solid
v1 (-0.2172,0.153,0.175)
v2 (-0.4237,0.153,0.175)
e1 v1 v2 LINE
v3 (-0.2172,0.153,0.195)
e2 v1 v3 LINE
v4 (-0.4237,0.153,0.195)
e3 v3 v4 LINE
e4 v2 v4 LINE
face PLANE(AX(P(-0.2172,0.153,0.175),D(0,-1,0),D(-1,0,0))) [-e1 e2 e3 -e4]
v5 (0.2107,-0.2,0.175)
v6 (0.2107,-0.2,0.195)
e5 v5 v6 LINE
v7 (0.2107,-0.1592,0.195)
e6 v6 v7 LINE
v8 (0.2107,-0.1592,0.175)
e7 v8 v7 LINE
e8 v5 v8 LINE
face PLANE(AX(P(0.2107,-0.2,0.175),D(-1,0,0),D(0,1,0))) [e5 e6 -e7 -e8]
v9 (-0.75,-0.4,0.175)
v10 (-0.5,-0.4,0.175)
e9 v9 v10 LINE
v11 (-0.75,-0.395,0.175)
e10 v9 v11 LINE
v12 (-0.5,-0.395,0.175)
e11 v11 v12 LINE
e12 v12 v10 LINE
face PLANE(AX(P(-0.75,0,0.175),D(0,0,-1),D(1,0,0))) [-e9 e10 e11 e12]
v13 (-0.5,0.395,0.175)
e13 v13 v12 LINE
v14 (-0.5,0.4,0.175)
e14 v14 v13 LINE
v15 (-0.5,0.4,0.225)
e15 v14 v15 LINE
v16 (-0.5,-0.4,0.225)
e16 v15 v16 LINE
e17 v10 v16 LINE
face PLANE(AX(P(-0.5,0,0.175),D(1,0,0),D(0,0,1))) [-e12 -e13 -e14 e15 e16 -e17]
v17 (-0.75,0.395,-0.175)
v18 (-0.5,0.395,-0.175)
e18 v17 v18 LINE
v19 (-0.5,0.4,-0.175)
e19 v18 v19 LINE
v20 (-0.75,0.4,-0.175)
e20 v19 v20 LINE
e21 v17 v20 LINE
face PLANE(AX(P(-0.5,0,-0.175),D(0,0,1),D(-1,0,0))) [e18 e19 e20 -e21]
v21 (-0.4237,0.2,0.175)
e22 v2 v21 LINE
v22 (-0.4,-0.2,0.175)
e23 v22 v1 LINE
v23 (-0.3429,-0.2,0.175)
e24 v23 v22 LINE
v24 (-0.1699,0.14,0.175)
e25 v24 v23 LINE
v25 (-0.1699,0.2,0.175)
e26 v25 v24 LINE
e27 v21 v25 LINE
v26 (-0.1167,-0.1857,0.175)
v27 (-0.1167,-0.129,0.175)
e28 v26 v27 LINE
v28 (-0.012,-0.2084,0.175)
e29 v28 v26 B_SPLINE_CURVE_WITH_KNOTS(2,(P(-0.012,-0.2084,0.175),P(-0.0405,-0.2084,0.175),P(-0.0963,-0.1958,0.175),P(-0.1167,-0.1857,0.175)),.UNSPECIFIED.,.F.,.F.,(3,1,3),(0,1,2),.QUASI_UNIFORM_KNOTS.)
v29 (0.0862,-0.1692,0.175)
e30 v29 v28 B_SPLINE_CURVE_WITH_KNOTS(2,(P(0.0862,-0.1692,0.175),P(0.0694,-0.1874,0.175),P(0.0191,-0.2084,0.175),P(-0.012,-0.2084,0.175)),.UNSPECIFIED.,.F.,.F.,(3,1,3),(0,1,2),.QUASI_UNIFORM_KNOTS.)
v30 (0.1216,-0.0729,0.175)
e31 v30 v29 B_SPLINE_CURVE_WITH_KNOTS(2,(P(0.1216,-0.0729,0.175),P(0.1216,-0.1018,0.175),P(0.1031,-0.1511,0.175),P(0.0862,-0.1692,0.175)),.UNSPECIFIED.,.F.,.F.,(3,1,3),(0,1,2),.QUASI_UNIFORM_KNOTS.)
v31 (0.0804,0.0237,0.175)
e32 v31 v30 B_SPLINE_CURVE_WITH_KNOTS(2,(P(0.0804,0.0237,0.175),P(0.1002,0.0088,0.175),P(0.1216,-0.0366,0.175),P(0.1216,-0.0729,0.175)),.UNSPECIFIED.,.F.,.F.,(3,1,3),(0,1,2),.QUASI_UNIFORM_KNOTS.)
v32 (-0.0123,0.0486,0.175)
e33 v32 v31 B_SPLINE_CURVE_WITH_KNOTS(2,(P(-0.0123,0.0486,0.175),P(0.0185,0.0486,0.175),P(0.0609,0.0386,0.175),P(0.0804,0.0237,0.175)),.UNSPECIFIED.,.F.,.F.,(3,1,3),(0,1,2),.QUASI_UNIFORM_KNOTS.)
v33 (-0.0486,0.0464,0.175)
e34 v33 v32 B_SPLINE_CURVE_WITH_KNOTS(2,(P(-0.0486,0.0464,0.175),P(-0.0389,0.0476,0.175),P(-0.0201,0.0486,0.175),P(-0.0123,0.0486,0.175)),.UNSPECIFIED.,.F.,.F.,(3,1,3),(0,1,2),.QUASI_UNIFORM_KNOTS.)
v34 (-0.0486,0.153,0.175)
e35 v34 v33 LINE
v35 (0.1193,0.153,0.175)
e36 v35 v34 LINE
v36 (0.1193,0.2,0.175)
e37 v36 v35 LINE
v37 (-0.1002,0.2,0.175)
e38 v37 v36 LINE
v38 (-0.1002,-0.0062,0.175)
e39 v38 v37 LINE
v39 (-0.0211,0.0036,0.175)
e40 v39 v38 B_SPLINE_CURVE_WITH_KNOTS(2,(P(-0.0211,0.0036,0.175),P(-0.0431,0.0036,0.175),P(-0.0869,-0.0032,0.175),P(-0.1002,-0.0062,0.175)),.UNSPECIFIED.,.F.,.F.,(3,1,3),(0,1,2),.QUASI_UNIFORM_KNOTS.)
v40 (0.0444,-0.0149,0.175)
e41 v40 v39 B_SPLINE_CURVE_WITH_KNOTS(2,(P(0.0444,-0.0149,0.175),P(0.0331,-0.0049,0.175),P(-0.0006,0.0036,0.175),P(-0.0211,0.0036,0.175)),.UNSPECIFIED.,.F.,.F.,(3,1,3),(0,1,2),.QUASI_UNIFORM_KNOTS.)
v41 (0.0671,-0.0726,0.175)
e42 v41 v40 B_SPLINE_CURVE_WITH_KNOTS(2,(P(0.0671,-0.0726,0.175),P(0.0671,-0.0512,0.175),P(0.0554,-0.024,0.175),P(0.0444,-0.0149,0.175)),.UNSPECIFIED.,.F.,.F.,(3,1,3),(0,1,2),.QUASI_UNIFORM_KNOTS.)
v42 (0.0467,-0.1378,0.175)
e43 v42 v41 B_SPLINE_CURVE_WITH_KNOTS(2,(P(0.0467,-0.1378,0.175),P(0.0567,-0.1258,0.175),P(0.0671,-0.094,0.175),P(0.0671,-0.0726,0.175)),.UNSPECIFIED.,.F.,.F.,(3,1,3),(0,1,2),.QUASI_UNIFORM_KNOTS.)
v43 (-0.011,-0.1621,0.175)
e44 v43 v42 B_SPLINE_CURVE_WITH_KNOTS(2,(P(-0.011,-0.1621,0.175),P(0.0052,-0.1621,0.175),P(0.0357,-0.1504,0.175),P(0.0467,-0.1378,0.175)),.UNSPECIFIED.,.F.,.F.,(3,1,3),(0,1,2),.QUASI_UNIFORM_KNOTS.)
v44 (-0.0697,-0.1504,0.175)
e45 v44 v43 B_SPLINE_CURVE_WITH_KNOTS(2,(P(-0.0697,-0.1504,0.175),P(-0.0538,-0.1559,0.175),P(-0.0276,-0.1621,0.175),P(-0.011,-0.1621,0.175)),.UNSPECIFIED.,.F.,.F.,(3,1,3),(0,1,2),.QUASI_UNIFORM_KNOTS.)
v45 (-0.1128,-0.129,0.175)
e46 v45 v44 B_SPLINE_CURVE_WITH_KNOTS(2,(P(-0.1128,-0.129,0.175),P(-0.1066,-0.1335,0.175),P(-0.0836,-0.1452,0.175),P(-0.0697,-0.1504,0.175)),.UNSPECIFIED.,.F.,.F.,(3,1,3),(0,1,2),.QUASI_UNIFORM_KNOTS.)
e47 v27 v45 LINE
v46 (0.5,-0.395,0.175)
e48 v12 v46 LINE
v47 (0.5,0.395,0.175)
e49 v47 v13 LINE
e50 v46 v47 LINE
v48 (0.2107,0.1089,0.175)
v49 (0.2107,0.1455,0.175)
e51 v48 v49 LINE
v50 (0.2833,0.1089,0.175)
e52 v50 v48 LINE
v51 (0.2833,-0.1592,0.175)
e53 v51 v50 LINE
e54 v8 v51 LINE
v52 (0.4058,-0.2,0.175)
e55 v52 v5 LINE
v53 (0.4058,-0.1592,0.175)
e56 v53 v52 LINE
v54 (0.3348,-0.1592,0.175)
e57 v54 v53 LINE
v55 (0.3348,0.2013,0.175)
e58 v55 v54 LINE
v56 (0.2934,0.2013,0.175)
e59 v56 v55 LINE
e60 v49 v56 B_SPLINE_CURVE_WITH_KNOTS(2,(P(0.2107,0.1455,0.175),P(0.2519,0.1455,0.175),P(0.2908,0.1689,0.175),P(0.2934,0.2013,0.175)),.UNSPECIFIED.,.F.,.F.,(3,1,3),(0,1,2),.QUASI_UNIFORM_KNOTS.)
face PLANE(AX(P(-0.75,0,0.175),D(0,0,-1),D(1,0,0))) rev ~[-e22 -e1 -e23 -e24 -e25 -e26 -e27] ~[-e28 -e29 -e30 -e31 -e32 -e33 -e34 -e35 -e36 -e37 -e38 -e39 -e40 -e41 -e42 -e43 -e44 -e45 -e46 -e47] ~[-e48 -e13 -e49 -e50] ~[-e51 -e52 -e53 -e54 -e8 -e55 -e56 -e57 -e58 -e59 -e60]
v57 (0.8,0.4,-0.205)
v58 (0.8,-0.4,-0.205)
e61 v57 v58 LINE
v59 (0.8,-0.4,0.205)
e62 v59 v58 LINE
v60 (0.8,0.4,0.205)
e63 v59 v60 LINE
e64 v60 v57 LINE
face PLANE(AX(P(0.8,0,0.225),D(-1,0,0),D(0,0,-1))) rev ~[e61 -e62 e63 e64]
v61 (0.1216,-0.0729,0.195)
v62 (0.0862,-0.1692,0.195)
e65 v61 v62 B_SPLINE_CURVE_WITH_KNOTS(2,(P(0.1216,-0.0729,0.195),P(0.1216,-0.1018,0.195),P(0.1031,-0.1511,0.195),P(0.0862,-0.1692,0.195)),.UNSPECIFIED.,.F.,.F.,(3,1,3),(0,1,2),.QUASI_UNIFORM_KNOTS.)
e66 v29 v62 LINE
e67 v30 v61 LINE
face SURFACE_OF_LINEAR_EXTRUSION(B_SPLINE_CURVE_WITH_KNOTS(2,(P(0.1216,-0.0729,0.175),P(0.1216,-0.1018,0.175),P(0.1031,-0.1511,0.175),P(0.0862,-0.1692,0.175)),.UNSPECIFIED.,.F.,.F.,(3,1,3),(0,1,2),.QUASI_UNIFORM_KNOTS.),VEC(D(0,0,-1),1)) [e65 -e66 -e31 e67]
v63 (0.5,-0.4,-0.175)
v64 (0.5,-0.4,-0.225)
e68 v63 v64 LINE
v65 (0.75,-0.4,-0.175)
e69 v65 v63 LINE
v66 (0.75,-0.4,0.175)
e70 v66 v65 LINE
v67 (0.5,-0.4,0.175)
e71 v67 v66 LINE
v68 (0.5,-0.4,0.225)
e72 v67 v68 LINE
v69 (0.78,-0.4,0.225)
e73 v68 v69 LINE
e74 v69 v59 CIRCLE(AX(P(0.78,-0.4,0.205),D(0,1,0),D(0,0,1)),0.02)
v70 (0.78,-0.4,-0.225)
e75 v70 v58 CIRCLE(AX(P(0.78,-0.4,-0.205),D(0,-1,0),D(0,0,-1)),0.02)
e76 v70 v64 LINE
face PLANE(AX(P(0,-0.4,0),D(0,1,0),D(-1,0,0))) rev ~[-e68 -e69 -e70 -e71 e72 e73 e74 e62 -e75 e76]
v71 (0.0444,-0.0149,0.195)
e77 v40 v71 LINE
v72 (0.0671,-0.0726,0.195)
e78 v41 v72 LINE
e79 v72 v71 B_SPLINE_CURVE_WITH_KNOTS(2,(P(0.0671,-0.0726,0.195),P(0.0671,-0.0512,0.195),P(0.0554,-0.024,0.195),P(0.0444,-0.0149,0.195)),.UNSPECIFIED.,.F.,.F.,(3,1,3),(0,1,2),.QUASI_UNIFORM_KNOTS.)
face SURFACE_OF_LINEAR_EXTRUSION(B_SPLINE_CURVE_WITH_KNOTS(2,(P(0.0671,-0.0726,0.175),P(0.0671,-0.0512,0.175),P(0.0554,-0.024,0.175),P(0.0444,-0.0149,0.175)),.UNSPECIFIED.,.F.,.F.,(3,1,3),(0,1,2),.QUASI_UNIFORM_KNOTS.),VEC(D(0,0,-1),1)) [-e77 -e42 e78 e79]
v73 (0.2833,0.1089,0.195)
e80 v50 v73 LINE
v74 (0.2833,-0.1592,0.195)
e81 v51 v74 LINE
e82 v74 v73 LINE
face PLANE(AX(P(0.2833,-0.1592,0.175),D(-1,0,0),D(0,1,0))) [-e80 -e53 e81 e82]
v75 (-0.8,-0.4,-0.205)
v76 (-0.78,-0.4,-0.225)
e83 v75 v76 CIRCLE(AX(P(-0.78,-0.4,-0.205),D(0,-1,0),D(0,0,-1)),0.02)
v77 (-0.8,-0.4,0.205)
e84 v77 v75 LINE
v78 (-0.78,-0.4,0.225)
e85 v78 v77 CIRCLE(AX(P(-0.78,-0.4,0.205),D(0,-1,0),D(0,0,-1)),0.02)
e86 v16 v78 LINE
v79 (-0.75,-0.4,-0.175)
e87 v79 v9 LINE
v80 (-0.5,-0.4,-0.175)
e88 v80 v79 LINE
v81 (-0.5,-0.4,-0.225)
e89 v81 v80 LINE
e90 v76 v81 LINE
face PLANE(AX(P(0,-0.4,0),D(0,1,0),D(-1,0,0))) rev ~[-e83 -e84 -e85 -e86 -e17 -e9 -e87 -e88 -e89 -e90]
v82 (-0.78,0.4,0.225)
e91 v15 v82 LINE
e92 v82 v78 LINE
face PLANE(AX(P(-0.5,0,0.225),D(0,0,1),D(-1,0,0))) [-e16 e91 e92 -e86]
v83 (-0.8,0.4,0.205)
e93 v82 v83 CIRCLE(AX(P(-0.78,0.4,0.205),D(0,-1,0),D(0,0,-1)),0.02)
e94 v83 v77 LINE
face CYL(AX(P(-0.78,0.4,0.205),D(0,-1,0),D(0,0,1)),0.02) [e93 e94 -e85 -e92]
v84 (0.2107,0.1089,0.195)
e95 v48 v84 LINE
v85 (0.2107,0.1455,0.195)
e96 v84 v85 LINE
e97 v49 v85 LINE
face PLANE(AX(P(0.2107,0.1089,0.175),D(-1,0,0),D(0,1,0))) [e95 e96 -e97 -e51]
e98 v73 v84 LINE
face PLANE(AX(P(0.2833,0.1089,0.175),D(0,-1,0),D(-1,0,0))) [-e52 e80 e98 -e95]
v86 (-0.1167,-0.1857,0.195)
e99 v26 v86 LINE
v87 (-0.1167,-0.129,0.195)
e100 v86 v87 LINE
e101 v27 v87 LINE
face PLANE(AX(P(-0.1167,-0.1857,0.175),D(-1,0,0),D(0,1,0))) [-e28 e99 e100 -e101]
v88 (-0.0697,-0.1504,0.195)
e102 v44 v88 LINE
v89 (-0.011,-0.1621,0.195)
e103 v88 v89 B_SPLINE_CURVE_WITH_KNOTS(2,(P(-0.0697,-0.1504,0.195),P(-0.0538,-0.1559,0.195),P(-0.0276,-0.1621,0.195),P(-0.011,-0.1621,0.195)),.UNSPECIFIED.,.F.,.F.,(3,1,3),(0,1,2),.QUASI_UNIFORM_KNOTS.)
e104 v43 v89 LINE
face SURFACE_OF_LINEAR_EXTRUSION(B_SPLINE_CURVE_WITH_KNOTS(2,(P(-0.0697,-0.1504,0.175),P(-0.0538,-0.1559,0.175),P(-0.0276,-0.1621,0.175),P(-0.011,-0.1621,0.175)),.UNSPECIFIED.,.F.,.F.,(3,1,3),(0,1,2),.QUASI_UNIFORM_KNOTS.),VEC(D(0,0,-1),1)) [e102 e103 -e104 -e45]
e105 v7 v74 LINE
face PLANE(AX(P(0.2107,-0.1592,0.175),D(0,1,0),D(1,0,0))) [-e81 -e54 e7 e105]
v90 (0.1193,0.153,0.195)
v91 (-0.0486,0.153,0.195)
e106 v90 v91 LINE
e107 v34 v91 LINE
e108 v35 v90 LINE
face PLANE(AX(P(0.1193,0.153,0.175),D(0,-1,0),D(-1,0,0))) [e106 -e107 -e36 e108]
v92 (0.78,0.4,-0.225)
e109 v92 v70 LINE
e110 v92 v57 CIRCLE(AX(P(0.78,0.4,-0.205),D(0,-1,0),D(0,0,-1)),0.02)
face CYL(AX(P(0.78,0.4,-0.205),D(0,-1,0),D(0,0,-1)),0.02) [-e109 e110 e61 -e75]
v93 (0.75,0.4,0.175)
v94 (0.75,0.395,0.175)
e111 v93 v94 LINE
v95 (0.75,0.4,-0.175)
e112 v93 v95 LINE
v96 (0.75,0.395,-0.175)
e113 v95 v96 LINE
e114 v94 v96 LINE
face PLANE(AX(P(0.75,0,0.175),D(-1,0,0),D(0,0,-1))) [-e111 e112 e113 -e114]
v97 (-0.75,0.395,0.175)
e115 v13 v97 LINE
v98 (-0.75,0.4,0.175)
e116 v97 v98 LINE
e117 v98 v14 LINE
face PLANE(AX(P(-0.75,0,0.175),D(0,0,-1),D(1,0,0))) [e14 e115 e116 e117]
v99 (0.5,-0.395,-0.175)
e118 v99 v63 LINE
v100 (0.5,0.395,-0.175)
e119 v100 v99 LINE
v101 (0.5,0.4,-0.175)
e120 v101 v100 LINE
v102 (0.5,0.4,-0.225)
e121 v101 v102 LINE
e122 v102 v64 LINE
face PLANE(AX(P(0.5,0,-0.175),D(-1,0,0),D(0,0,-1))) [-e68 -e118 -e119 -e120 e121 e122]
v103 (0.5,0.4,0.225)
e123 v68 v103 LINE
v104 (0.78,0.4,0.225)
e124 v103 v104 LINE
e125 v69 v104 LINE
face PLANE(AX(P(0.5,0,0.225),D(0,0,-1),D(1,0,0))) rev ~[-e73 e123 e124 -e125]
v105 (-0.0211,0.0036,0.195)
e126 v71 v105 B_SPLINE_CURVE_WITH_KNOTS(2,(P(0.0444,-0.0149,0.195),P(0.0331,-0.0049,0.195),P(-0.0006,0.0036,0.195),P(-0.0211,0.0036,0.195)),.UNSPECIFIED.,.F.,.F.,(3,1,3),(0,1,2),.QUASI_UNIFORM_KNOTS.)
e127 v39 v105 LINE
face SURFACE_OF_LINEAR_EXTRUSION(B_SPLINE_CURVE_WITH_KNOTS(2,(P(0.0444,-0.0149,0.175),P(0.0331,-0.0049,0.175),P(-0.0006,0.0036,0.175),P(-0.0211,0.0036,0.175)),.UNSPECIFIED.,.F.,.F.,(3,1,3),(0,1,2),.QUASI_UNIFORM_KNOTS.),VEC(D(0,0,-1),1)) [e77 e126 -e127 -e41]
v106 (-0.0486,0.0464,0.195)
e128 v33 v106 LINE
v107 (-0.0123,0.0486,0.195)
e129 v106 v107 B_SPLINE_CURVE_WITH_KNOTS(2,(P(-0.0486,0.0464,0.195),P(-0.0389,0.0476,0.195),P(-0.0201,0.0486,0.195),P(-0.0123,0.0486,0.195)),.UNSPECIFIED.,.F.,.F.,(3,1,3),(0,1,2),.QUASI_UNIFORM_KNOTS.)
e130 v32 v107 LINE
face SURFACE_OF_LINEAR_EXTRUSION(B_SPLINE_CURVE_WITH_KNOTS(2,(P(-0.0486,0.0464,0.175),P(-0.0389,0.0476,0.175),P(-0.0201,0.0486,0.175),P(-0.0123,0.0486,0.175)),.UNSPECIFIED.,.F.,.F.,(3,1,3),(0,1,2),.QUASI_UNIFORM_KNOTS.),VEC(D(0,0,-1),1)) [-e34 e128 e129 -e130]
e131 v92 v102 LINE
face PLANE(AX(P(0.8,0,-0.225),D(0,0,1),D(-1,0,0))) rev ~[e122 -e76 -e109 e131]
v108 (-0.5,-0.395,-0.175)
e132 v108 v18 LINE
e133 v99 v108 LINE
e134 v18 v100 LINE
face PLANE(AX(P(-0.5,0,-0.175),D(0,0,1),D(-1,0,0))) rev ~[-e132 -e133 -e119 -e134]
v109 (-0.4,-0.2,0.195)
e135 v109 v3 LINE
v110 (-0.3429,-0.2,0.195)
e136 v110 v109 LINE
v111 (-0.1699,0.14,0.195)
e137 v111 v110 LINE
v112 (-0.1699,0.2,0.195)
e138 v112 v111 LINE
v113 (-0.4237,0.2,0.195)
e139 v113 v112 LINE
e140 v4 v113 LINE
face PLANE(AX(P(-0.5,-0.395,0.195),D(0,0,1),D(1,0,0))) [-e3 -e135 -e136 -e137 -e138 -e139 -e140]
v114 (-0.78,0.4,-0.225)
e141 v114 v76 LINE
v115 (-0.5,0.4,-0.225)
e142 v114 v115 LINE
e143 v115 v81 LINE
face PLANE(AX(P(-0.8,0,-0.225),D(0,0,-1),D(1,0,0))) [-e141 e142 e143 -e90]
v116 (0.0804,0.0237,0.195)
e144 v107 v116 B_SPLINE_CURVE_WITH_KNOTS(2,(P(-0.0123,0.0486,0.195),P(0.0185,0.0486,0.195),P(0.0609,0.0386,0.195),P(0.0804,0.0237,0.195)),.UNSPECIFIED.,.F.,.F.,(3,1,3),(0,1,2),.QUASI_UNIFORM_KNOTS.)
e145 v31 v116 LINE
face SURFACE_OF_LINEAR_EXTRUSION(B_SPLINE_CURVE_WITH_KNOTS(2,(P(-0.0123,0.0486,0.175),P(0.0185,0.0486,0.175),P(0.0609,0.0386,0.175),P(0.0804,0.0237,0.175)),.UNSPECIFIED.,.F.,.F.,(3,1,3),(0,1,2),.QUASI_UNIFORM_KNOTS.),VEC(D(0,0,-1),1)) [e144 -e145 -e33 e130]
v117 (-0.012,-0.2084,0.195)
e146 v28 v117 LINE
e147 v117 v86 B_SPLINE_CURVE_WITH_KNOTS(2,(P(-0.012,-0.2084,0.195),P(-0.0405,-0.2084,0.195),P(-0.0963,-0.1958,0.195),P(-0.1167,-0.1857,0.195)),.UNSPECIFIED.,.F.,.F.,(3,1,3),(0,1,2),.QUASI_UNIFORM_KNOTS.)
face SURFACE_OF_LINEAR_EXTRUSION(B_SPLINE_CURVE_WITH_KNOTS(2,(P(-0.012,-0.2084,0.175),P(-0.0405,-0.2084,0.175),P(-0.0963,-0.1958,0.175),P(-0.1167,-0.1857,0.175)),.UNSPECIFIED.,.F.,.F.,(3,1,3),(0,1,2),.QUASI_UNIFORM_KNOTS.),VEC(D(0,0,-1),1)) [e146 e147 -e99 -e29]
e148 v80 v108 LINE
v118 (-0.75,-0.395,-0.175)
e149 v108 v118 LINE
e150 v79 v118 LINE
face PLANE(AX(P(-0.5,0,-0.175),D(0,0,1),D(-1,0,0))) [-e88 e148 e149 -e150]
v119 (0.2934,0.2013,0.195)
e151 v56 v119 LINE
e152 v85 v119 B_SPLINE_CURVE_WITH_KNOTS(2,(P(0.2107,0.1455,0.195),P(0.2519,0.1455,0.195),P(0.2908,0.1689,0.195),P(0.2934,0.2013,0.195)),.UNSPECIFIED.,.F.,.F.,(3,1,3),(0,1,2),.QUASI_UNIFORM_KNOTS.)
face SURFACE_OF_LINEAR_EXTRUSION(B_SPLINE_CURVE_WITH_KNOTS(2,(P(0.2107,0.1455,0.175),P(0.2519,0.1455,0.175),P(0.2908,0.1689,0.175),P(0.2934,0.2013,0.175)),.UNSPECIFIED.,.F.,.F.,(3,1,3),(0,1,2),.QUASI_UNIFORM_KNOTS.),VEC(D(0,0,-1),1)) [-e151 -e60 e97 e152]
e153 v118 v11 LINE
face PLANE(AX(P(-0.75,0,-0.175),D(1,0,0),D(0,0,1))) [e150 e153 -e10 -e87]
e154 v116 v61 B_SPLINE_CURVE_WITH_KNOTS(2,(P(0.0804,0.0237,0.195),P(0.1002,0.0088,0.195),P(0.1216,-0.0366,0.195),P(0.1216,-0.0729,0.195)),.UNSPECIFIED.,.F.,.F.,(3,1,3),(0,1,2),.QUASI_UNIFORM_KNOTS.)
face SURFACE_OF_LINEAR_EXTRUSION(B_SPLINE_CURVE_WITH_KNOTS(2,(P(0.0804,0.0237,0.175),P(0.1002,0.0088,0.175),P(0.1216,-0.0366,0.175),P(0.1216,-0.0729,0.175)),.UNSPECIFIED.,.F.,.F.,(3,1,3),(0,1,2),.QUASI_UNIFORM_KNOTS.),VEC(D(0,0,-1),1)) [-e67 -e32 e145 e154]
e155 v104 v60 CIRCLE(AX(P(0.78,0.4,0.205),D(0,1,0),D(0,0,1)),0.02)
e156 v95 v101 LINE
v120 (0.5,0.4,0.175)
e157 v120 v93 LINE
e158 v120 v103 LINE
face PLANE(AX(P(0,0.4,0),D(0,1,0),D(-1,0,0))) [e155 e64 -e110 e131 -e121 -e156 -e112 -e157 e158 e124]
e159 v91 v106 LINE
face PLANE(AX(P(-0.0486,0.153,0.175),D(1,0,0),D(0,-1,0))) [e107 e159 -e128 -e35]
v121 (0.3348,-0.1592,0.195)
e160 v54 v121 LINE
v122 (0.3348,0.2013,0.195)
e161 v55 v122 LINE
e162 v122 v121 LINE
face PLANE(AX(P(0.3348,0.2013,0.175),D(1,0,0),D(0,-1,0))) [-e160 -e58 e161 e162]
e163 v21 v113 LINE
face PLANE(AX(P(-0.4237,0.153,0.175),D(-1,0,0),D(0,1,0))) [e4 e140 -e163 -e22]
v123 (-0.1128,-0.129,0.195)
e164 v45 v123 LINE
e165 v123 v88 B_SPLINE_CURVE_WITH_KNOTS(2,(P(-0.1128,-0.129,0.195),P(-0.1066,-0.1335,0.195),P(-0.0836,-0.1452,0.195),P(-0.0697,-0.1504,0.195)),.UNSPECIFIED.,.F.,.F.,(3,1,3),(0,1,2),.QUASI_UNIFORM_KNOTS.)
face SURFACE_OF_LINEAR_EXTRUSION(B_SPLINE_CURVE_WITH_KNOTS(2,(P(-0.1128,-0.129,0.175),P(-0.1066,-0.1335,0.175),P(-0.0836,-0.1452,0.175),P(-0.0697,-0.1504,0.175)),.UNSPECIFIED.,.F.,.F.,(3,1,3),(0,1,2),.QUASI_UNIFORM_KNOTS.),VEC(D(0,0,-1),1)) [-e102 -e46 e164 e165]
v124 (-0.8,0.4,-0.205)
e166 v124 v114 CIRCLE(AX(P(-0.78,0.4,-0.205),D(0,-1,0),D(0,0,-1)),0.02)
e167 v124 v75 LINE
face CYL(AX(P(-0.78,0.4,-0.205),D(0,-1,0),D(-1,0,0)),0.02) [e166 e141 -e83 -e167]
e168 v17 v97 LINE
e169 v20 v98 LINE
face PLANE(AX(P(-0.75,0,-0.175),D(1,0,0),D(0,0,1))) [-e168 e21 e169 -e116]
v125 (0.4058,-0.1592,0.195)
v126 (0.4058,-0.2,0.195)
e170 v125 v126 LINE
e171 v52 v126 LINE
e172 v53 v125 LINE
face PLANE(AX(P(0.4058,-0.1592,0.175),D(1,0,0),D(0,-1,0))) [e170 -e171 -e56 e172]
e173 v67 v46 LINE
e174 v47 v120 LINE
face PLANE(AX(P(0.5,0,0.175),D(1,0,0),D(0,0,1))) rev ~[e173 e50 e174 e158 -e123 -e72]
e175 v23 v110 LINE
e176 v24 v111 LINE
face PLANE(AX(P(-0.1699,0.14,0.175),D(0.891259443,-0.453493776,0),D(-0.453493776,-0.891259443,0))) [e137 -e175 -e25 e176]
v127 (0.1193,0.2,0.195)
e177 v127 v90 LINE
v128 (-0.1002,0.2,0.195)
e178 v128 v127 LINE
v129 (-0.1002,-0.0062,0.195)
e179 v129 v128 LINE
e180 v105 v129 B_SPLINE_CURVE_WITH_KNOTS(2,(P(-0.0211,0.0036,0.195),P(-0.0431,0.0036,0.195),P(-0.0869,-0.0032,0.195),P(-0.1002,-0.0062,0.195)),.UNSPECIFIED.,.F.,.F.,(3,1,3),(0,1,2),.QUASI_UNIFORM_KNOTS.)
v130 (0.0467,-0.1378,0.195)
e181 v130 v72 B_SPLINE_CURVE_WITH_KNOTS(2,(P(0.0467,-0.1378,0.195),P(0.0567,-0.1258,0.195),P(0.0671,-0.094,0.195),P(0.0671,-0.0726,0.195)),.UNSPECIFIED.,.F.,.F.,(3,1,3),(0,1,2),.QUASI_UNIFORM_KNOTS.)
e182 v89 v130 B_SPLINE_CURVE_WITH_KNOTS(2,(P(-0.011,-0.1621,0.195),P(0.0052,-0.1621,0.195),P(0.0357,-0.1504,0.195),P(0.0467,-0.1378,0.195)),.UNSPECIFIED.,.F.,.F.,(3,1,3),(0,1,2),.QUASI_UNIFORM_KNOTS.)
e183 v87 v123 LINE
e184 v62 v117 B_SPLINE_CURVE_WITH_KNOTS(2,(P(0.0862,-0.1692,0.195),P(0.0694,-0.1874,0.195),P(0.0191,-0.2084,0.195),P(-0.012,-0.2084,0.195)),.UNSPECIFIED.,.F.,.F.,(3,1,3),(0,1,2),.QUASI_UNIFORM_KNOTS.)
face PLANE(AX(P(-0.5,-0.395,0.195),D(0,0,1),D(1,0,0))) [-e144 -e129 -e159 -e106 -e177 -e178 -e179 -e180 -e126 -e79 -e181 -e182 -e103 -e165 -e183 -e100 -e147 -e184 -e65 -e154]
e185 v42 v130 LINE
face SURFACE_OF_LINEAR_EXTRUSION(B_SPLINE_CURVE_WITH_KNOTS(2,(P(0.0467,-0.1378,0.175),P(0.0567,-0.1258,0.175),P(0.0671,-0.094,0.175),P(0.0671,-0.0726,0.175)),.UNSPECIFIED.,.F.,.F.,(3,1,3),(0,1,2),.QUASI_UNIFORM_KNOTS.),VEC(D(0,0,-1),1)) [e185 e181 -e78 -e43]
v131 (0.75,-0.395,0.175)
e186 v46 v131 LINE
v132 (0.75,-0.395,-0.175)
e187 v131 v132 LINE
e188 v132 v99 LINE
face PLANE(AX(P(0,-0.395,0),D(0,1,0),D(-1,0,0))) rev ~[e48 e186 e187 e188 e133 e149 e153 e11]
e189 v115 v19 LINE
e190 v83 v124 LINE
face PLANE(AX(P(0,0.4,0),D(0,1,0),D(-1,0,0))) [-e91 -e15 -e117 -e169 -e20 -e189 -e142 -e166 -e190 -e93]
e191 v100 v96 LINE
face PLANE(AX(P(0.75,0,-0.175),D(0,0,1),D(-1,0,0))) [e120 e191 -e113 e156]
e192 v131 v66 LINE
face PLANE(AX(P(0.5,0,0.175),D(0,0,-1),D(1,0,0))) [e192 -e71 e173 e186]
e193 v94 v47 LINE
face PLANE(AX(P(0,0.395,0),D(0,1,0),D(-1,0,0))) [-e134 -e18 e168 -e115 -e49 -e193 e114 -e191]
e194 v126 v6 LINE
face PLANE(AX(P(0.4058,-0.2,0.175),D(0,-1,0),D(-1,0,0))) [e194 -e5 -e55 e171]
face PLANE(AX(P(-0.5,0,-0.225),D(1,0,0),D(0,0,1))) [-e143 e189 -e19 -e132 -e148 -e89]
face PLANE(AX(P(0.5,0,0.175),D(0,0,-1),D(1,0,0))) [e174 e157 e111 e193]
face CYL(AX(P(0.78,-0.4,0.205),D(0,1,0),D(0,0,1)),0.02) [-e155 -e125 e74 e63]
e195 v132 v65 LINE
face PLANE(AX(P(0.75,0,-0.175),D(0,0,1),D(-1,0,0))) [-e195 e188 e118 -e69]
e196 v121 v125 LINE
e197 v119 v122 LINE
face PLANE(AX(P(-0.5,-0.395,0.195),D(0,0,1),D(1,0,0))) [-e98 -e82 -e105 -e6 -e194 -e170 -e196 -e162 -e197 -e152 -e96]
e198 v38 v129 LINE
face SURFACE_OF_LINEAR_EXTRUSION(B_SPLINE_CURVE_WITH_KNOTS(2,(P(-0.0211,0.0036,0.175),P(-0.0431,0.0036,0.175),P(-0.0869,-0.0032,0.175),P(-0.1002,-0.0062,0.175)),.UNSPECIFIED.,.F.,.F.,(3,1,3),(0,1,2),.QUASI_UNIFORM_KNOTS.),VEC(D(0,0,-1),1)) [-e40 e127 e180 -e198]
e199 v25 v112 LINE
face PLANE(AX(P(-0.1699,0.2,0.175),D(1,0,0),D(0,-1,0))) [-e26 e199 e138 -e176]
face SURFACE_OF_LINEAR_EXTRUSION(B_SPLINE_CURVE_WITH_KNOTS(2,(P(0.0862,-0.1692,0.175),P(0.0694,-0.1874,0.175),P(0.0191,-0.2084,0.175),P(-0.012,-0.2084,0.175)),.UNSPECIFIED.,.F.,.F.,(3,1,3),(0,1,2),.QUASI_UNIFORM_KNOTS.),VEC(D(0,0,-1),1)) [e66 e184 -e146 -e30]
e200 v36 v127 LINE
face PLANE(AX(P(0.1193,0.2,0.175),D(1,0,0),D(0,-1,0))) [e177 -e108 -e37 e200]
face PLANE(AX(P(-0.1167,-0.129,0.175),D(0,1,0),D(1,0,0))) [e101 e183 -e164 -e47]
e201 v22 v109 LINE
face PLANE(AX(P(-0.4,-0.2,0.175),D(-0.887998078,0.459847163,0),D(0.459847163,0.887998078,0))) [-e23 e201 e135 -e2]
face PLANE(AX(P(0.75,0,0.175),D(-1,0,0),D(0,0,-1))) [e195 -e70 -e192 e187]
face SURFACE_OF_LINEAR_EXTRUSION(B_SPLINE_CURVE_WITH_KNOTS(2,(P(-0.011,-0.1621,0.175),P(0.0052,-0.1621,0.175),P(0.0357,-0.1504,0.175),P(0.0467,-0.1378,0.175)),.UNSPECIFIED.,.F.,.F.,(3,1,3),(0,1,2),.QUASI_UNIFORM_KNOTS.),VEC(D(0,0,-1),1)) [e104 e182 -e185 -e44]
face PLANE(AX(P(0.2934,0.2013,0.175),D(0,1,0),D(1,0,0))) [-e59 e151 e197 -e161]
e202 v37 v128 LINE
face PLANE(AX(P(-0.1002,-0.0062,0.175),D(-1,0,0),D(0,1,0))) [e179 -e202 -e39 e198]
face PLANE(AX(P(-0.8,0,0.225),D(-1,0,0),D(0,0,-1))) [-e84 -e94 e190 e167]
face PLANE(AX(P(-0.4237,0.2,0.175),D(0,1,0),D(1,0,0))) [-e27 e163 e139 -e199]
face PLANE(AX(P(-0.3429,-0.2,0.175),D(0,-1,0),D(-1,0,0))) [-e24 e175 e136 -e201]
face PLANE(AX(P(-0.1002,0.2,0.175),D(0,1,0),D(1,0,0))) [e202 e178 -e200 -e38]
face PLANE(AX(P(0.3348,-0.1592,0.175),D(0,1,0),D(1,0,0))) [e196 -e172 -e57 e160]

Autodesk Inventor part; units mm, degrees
ref_plane "YZ Plane" through (0, 0, 0) normal (1, 0, 0) x (0, 1, 0)
ref_plane "XZ Plane" through (0, 0, 0) normal (0, 1, 0) x (-1, 0, 0)
ref_plane "XY Plane" through (0, 0, 0) normal (0, 0, 1) x (1, 0, 0)
sketch "Sketch1" plane through (0, 0, 0) normal (0, 1, 0) x (-1, 0, 0)
  line L0 (0.75, 0.175) -> (-0.75, 0.175)
  line L1 (-0.75, 0.175) -> (-0.75, -0.175)
  line L2 (-0.75, -0.175) -> (0.75, -0.175)
  line L3 (0.75, -0.175) -> (0.75, 0.175)
  line L4 (0.5, 0.175) -> (0.5, 0.225)
  line L5 (0.5, 0.225) -> (0.8, 0.225)
  line L6 (0.8, 0.225) -> (0.8, -0.225)
  line L7 (0.8, -0.225) -> (0.5, -0.225)
  line L8 (0.5, -0.225) -> (0.5, -0.175)
  line L9 (-0.5, 0.175) -> (-0.5, 0.225)
  line L10 (-0.5, 0.225) -> (-0.8, 0.225)
  line L11 (-0.8, 0.225) -> (-0.8, -0.225)
  line L12 (-0.8, -0.225) -> (-0.5, -0.225)
  line L13 (-0.5, -0.175) -> (-0.5, -0.225)
  line L14 (0.5, 0.175) -> (-0.5, 0.175)
  point P0 (0, 0)
  point P1 (0, 0.175)
  point P2 (0.75, 0)
  dimension "d0" = 1.6
  dimension "d1" = 0.05
  dimension "d2" = 0.05
  dimension "d3" = 0.45
  dimension "d4" = 0.3
extrude "Extrusion1" add sketch "Sketch1" along normal mid plane 0.8 contours L0 L4 L5 L6 L7 L8 L2 L3 | L0 L1 L2 L13 L12 L11 L10 L9
extrude "Extrusion2" add sketch "Sketch1" along normal mid plane 0.79 contours L3 L2 L1 L0
sketch "Sketch2" plane through (-0.5, -0.395, 0.175) normal (0, 0, 1) x (1, 0, 0)
  line L0 (0, 0) -> (0, 0.79) projected
  line L1 (1, 0) -> (0, 0) projected
  line L2 (1, 0) -> (1, 0.79) projected
  line L3 (0, 0.79) -> (1, 0.79) projected
  line L4 (0, 0.395) -> (1, 0.395) construction
  line L5 (0.3301, 0.535) -> (0.1571, 0.195)
  line L6 (0.1571, 0.195) -> (0.1, 0.195)
  line L7 (0.1, 0.195) -> (0.2828, 0.548)
  line L8 (0.2828, 0.548) -> (0.0763, 0.548)
  line L9 (0.0763, 0.548) -> (0.0763, 0.595)
  line L10 (0.0763, 0.595) -> (0.3301, 0.595)
  line L11 (0.3301, 0.595) -> (0.3301, 0.535)
  spline S0 degree 2 poles (0.6216, 0.3221) (0.6216, 0.2932) (0.6031, 0.2439) (0.5862, 0.2258) knots 0 0 0 1 2 2 2
  spline S1 degree 2 poles (0.5862, 0.2258) (0.5694, 0.2076) (0.5191, 0.1866) (0.488, 0.1866) knots 0 0 0 1 2 2 2
  spline S2 degree 2 poles (0.488, 0.1866) (0.4595, 0.1866) (0.4037, 0.1992) (0.3833, 0.2093) knots 0 0 0 1 2 2 2
  line L12 (0.3833, 0.2093) -> (0.3833, 0.266)
  line L13 (0.3833, 0.266) -> (0.3872, 0.266)
  spline S3 degree 2 poles (0.3872, 0.266) (0.3934, 0.2615) (0.4164, 0.2498) (0.4303, 0.2446) knots 0 0 0 1 2 2 2
  spline S4 degree 2 poles (0.4303, 0.2446) (0.4462, 0.2391) (0.4724, 0.2329) (0.489, 0.2329) knots 0 0 0 1 2 2 2
  spline S5 degree 2 poles (0.489, 0.2329) (0.5052, 0.2329) (0.5357, 0.2446) (0.5467, 0.2572) knots 0 0 0 1 2 2 2
  spline S6 degree 2 poles (0.5467, 0.2572) (0.5567, 0.2692) (0.5671, 0.301) (0.5671, 0.3224) knots 0 0 0 1 2 2 2
  spline S7 degree 2 poles (0.5671, 0.3224) (0.5671, 0.3438) (0.5554, 0.371) (0.5444, 0.3801) knots 0 0 0 1 2 2 2
  spline S8 degree 2 poles (0.5444, 0.3801) (0.5331, 0.3901) (0.4994, 0.3986) (0.4789, 0.3986) knots 0 0 0 1 2 2 2
  spline S9 degree 2 poles (0.4789, 0.3986) (0.4569, 0.3986) (0.4131, 0.3918) (0.3998, 0.3888) knots 0 0 0 1 2 2 2
  line L14 (0.3998, 0.3888) -> (0.3998, 0.595)
  line L15 (0.3998, 0.595) -> (0.6193, 0.595)
  line L16 (0.6193, 0.595) -> (0.6193, 0.548)
  line L17 (0.6193, 0.548) -> (0.4514, 0.548)
  line L18 (0.4514, 0.548) -> (0.4514, 0.4414)
  spline S10 degree 2 poles (0.4514, 0.4414) (0.4611, 0.4426) (0.4799, 0.4436) (0.4877, 0.4436) knots 0 0 0 1 2 2 2
  spline S11 degree 2 poles (0.4877, 0.4436) (0.5185, 0.4436) (0.5609, 0.4336) (0.5804, 0.4187) knots 0 0 0 1 2 2 2
  spline S12 degree 2 poles (0.5804, 0.4187) (0.6002, 0.4038) (0.6216, 0.3584) (0.6216, 0.3221) knots 0 0 0 1 2 2 2
  line L19 (0.9058, 0.195) -> (0.7107, 0.195)
  line L20 (0.7107, 0.195) -> (0.7107, 0.2358)
  line L21 (0.7107, 0.2358) -> (0.7833, 0.2358)
  line L22 (0.7833, 0.2358) -> (0.7833, 0.5039)
  line L23 (0.7833, 0.5039) -> (0.7107, 0.5039)
  line L24 (0.7107, 0.5039) -> (0.7107, 0.5405)
  spline S13 degree 2 poles (0.7107, 0.5405) (0.7519, 0.5405) (0.7908, 0.5639) (0.7934, 0.5963) knots 0 0 0 1 2 2 2
  line L25 (0.7934, 0.5963) -> (0.8348, 0.5963)
  line L26 (0.8348, 0.5963) -> (0.8348, 0.2358)
  line L27 (0.8348, 0.2358) -> (0.9058, 0.2358)
  line L28 (0.9058, 0.2358) -> (0.9058, 0.195)
  point P0 (0.5, 0.395)
extrude "Extrusion3" add sketch "Sketch2" along normal blind 0.02 contours L5 L6 L7 L8 L9 L10 L11 | S0 S1 S2 L12 L13 S3 S4 S5 S6 S7 S8 S9 L14 L15 L16 L17 L18 S10 S11 S12 | L19 L20 L21 L22 L23 L24 S13 L25 L26 L27 L28
fillet "Fillet1" radius 0.02 4 edges at (-0.8, 0, 0.225) (-0.8, 0, -0.225) (0.8, 0, 0.225) (0.8, 0, -0.225)
equation "\"d2\" = d1"
properties part number "21-1001" material "Copper"
